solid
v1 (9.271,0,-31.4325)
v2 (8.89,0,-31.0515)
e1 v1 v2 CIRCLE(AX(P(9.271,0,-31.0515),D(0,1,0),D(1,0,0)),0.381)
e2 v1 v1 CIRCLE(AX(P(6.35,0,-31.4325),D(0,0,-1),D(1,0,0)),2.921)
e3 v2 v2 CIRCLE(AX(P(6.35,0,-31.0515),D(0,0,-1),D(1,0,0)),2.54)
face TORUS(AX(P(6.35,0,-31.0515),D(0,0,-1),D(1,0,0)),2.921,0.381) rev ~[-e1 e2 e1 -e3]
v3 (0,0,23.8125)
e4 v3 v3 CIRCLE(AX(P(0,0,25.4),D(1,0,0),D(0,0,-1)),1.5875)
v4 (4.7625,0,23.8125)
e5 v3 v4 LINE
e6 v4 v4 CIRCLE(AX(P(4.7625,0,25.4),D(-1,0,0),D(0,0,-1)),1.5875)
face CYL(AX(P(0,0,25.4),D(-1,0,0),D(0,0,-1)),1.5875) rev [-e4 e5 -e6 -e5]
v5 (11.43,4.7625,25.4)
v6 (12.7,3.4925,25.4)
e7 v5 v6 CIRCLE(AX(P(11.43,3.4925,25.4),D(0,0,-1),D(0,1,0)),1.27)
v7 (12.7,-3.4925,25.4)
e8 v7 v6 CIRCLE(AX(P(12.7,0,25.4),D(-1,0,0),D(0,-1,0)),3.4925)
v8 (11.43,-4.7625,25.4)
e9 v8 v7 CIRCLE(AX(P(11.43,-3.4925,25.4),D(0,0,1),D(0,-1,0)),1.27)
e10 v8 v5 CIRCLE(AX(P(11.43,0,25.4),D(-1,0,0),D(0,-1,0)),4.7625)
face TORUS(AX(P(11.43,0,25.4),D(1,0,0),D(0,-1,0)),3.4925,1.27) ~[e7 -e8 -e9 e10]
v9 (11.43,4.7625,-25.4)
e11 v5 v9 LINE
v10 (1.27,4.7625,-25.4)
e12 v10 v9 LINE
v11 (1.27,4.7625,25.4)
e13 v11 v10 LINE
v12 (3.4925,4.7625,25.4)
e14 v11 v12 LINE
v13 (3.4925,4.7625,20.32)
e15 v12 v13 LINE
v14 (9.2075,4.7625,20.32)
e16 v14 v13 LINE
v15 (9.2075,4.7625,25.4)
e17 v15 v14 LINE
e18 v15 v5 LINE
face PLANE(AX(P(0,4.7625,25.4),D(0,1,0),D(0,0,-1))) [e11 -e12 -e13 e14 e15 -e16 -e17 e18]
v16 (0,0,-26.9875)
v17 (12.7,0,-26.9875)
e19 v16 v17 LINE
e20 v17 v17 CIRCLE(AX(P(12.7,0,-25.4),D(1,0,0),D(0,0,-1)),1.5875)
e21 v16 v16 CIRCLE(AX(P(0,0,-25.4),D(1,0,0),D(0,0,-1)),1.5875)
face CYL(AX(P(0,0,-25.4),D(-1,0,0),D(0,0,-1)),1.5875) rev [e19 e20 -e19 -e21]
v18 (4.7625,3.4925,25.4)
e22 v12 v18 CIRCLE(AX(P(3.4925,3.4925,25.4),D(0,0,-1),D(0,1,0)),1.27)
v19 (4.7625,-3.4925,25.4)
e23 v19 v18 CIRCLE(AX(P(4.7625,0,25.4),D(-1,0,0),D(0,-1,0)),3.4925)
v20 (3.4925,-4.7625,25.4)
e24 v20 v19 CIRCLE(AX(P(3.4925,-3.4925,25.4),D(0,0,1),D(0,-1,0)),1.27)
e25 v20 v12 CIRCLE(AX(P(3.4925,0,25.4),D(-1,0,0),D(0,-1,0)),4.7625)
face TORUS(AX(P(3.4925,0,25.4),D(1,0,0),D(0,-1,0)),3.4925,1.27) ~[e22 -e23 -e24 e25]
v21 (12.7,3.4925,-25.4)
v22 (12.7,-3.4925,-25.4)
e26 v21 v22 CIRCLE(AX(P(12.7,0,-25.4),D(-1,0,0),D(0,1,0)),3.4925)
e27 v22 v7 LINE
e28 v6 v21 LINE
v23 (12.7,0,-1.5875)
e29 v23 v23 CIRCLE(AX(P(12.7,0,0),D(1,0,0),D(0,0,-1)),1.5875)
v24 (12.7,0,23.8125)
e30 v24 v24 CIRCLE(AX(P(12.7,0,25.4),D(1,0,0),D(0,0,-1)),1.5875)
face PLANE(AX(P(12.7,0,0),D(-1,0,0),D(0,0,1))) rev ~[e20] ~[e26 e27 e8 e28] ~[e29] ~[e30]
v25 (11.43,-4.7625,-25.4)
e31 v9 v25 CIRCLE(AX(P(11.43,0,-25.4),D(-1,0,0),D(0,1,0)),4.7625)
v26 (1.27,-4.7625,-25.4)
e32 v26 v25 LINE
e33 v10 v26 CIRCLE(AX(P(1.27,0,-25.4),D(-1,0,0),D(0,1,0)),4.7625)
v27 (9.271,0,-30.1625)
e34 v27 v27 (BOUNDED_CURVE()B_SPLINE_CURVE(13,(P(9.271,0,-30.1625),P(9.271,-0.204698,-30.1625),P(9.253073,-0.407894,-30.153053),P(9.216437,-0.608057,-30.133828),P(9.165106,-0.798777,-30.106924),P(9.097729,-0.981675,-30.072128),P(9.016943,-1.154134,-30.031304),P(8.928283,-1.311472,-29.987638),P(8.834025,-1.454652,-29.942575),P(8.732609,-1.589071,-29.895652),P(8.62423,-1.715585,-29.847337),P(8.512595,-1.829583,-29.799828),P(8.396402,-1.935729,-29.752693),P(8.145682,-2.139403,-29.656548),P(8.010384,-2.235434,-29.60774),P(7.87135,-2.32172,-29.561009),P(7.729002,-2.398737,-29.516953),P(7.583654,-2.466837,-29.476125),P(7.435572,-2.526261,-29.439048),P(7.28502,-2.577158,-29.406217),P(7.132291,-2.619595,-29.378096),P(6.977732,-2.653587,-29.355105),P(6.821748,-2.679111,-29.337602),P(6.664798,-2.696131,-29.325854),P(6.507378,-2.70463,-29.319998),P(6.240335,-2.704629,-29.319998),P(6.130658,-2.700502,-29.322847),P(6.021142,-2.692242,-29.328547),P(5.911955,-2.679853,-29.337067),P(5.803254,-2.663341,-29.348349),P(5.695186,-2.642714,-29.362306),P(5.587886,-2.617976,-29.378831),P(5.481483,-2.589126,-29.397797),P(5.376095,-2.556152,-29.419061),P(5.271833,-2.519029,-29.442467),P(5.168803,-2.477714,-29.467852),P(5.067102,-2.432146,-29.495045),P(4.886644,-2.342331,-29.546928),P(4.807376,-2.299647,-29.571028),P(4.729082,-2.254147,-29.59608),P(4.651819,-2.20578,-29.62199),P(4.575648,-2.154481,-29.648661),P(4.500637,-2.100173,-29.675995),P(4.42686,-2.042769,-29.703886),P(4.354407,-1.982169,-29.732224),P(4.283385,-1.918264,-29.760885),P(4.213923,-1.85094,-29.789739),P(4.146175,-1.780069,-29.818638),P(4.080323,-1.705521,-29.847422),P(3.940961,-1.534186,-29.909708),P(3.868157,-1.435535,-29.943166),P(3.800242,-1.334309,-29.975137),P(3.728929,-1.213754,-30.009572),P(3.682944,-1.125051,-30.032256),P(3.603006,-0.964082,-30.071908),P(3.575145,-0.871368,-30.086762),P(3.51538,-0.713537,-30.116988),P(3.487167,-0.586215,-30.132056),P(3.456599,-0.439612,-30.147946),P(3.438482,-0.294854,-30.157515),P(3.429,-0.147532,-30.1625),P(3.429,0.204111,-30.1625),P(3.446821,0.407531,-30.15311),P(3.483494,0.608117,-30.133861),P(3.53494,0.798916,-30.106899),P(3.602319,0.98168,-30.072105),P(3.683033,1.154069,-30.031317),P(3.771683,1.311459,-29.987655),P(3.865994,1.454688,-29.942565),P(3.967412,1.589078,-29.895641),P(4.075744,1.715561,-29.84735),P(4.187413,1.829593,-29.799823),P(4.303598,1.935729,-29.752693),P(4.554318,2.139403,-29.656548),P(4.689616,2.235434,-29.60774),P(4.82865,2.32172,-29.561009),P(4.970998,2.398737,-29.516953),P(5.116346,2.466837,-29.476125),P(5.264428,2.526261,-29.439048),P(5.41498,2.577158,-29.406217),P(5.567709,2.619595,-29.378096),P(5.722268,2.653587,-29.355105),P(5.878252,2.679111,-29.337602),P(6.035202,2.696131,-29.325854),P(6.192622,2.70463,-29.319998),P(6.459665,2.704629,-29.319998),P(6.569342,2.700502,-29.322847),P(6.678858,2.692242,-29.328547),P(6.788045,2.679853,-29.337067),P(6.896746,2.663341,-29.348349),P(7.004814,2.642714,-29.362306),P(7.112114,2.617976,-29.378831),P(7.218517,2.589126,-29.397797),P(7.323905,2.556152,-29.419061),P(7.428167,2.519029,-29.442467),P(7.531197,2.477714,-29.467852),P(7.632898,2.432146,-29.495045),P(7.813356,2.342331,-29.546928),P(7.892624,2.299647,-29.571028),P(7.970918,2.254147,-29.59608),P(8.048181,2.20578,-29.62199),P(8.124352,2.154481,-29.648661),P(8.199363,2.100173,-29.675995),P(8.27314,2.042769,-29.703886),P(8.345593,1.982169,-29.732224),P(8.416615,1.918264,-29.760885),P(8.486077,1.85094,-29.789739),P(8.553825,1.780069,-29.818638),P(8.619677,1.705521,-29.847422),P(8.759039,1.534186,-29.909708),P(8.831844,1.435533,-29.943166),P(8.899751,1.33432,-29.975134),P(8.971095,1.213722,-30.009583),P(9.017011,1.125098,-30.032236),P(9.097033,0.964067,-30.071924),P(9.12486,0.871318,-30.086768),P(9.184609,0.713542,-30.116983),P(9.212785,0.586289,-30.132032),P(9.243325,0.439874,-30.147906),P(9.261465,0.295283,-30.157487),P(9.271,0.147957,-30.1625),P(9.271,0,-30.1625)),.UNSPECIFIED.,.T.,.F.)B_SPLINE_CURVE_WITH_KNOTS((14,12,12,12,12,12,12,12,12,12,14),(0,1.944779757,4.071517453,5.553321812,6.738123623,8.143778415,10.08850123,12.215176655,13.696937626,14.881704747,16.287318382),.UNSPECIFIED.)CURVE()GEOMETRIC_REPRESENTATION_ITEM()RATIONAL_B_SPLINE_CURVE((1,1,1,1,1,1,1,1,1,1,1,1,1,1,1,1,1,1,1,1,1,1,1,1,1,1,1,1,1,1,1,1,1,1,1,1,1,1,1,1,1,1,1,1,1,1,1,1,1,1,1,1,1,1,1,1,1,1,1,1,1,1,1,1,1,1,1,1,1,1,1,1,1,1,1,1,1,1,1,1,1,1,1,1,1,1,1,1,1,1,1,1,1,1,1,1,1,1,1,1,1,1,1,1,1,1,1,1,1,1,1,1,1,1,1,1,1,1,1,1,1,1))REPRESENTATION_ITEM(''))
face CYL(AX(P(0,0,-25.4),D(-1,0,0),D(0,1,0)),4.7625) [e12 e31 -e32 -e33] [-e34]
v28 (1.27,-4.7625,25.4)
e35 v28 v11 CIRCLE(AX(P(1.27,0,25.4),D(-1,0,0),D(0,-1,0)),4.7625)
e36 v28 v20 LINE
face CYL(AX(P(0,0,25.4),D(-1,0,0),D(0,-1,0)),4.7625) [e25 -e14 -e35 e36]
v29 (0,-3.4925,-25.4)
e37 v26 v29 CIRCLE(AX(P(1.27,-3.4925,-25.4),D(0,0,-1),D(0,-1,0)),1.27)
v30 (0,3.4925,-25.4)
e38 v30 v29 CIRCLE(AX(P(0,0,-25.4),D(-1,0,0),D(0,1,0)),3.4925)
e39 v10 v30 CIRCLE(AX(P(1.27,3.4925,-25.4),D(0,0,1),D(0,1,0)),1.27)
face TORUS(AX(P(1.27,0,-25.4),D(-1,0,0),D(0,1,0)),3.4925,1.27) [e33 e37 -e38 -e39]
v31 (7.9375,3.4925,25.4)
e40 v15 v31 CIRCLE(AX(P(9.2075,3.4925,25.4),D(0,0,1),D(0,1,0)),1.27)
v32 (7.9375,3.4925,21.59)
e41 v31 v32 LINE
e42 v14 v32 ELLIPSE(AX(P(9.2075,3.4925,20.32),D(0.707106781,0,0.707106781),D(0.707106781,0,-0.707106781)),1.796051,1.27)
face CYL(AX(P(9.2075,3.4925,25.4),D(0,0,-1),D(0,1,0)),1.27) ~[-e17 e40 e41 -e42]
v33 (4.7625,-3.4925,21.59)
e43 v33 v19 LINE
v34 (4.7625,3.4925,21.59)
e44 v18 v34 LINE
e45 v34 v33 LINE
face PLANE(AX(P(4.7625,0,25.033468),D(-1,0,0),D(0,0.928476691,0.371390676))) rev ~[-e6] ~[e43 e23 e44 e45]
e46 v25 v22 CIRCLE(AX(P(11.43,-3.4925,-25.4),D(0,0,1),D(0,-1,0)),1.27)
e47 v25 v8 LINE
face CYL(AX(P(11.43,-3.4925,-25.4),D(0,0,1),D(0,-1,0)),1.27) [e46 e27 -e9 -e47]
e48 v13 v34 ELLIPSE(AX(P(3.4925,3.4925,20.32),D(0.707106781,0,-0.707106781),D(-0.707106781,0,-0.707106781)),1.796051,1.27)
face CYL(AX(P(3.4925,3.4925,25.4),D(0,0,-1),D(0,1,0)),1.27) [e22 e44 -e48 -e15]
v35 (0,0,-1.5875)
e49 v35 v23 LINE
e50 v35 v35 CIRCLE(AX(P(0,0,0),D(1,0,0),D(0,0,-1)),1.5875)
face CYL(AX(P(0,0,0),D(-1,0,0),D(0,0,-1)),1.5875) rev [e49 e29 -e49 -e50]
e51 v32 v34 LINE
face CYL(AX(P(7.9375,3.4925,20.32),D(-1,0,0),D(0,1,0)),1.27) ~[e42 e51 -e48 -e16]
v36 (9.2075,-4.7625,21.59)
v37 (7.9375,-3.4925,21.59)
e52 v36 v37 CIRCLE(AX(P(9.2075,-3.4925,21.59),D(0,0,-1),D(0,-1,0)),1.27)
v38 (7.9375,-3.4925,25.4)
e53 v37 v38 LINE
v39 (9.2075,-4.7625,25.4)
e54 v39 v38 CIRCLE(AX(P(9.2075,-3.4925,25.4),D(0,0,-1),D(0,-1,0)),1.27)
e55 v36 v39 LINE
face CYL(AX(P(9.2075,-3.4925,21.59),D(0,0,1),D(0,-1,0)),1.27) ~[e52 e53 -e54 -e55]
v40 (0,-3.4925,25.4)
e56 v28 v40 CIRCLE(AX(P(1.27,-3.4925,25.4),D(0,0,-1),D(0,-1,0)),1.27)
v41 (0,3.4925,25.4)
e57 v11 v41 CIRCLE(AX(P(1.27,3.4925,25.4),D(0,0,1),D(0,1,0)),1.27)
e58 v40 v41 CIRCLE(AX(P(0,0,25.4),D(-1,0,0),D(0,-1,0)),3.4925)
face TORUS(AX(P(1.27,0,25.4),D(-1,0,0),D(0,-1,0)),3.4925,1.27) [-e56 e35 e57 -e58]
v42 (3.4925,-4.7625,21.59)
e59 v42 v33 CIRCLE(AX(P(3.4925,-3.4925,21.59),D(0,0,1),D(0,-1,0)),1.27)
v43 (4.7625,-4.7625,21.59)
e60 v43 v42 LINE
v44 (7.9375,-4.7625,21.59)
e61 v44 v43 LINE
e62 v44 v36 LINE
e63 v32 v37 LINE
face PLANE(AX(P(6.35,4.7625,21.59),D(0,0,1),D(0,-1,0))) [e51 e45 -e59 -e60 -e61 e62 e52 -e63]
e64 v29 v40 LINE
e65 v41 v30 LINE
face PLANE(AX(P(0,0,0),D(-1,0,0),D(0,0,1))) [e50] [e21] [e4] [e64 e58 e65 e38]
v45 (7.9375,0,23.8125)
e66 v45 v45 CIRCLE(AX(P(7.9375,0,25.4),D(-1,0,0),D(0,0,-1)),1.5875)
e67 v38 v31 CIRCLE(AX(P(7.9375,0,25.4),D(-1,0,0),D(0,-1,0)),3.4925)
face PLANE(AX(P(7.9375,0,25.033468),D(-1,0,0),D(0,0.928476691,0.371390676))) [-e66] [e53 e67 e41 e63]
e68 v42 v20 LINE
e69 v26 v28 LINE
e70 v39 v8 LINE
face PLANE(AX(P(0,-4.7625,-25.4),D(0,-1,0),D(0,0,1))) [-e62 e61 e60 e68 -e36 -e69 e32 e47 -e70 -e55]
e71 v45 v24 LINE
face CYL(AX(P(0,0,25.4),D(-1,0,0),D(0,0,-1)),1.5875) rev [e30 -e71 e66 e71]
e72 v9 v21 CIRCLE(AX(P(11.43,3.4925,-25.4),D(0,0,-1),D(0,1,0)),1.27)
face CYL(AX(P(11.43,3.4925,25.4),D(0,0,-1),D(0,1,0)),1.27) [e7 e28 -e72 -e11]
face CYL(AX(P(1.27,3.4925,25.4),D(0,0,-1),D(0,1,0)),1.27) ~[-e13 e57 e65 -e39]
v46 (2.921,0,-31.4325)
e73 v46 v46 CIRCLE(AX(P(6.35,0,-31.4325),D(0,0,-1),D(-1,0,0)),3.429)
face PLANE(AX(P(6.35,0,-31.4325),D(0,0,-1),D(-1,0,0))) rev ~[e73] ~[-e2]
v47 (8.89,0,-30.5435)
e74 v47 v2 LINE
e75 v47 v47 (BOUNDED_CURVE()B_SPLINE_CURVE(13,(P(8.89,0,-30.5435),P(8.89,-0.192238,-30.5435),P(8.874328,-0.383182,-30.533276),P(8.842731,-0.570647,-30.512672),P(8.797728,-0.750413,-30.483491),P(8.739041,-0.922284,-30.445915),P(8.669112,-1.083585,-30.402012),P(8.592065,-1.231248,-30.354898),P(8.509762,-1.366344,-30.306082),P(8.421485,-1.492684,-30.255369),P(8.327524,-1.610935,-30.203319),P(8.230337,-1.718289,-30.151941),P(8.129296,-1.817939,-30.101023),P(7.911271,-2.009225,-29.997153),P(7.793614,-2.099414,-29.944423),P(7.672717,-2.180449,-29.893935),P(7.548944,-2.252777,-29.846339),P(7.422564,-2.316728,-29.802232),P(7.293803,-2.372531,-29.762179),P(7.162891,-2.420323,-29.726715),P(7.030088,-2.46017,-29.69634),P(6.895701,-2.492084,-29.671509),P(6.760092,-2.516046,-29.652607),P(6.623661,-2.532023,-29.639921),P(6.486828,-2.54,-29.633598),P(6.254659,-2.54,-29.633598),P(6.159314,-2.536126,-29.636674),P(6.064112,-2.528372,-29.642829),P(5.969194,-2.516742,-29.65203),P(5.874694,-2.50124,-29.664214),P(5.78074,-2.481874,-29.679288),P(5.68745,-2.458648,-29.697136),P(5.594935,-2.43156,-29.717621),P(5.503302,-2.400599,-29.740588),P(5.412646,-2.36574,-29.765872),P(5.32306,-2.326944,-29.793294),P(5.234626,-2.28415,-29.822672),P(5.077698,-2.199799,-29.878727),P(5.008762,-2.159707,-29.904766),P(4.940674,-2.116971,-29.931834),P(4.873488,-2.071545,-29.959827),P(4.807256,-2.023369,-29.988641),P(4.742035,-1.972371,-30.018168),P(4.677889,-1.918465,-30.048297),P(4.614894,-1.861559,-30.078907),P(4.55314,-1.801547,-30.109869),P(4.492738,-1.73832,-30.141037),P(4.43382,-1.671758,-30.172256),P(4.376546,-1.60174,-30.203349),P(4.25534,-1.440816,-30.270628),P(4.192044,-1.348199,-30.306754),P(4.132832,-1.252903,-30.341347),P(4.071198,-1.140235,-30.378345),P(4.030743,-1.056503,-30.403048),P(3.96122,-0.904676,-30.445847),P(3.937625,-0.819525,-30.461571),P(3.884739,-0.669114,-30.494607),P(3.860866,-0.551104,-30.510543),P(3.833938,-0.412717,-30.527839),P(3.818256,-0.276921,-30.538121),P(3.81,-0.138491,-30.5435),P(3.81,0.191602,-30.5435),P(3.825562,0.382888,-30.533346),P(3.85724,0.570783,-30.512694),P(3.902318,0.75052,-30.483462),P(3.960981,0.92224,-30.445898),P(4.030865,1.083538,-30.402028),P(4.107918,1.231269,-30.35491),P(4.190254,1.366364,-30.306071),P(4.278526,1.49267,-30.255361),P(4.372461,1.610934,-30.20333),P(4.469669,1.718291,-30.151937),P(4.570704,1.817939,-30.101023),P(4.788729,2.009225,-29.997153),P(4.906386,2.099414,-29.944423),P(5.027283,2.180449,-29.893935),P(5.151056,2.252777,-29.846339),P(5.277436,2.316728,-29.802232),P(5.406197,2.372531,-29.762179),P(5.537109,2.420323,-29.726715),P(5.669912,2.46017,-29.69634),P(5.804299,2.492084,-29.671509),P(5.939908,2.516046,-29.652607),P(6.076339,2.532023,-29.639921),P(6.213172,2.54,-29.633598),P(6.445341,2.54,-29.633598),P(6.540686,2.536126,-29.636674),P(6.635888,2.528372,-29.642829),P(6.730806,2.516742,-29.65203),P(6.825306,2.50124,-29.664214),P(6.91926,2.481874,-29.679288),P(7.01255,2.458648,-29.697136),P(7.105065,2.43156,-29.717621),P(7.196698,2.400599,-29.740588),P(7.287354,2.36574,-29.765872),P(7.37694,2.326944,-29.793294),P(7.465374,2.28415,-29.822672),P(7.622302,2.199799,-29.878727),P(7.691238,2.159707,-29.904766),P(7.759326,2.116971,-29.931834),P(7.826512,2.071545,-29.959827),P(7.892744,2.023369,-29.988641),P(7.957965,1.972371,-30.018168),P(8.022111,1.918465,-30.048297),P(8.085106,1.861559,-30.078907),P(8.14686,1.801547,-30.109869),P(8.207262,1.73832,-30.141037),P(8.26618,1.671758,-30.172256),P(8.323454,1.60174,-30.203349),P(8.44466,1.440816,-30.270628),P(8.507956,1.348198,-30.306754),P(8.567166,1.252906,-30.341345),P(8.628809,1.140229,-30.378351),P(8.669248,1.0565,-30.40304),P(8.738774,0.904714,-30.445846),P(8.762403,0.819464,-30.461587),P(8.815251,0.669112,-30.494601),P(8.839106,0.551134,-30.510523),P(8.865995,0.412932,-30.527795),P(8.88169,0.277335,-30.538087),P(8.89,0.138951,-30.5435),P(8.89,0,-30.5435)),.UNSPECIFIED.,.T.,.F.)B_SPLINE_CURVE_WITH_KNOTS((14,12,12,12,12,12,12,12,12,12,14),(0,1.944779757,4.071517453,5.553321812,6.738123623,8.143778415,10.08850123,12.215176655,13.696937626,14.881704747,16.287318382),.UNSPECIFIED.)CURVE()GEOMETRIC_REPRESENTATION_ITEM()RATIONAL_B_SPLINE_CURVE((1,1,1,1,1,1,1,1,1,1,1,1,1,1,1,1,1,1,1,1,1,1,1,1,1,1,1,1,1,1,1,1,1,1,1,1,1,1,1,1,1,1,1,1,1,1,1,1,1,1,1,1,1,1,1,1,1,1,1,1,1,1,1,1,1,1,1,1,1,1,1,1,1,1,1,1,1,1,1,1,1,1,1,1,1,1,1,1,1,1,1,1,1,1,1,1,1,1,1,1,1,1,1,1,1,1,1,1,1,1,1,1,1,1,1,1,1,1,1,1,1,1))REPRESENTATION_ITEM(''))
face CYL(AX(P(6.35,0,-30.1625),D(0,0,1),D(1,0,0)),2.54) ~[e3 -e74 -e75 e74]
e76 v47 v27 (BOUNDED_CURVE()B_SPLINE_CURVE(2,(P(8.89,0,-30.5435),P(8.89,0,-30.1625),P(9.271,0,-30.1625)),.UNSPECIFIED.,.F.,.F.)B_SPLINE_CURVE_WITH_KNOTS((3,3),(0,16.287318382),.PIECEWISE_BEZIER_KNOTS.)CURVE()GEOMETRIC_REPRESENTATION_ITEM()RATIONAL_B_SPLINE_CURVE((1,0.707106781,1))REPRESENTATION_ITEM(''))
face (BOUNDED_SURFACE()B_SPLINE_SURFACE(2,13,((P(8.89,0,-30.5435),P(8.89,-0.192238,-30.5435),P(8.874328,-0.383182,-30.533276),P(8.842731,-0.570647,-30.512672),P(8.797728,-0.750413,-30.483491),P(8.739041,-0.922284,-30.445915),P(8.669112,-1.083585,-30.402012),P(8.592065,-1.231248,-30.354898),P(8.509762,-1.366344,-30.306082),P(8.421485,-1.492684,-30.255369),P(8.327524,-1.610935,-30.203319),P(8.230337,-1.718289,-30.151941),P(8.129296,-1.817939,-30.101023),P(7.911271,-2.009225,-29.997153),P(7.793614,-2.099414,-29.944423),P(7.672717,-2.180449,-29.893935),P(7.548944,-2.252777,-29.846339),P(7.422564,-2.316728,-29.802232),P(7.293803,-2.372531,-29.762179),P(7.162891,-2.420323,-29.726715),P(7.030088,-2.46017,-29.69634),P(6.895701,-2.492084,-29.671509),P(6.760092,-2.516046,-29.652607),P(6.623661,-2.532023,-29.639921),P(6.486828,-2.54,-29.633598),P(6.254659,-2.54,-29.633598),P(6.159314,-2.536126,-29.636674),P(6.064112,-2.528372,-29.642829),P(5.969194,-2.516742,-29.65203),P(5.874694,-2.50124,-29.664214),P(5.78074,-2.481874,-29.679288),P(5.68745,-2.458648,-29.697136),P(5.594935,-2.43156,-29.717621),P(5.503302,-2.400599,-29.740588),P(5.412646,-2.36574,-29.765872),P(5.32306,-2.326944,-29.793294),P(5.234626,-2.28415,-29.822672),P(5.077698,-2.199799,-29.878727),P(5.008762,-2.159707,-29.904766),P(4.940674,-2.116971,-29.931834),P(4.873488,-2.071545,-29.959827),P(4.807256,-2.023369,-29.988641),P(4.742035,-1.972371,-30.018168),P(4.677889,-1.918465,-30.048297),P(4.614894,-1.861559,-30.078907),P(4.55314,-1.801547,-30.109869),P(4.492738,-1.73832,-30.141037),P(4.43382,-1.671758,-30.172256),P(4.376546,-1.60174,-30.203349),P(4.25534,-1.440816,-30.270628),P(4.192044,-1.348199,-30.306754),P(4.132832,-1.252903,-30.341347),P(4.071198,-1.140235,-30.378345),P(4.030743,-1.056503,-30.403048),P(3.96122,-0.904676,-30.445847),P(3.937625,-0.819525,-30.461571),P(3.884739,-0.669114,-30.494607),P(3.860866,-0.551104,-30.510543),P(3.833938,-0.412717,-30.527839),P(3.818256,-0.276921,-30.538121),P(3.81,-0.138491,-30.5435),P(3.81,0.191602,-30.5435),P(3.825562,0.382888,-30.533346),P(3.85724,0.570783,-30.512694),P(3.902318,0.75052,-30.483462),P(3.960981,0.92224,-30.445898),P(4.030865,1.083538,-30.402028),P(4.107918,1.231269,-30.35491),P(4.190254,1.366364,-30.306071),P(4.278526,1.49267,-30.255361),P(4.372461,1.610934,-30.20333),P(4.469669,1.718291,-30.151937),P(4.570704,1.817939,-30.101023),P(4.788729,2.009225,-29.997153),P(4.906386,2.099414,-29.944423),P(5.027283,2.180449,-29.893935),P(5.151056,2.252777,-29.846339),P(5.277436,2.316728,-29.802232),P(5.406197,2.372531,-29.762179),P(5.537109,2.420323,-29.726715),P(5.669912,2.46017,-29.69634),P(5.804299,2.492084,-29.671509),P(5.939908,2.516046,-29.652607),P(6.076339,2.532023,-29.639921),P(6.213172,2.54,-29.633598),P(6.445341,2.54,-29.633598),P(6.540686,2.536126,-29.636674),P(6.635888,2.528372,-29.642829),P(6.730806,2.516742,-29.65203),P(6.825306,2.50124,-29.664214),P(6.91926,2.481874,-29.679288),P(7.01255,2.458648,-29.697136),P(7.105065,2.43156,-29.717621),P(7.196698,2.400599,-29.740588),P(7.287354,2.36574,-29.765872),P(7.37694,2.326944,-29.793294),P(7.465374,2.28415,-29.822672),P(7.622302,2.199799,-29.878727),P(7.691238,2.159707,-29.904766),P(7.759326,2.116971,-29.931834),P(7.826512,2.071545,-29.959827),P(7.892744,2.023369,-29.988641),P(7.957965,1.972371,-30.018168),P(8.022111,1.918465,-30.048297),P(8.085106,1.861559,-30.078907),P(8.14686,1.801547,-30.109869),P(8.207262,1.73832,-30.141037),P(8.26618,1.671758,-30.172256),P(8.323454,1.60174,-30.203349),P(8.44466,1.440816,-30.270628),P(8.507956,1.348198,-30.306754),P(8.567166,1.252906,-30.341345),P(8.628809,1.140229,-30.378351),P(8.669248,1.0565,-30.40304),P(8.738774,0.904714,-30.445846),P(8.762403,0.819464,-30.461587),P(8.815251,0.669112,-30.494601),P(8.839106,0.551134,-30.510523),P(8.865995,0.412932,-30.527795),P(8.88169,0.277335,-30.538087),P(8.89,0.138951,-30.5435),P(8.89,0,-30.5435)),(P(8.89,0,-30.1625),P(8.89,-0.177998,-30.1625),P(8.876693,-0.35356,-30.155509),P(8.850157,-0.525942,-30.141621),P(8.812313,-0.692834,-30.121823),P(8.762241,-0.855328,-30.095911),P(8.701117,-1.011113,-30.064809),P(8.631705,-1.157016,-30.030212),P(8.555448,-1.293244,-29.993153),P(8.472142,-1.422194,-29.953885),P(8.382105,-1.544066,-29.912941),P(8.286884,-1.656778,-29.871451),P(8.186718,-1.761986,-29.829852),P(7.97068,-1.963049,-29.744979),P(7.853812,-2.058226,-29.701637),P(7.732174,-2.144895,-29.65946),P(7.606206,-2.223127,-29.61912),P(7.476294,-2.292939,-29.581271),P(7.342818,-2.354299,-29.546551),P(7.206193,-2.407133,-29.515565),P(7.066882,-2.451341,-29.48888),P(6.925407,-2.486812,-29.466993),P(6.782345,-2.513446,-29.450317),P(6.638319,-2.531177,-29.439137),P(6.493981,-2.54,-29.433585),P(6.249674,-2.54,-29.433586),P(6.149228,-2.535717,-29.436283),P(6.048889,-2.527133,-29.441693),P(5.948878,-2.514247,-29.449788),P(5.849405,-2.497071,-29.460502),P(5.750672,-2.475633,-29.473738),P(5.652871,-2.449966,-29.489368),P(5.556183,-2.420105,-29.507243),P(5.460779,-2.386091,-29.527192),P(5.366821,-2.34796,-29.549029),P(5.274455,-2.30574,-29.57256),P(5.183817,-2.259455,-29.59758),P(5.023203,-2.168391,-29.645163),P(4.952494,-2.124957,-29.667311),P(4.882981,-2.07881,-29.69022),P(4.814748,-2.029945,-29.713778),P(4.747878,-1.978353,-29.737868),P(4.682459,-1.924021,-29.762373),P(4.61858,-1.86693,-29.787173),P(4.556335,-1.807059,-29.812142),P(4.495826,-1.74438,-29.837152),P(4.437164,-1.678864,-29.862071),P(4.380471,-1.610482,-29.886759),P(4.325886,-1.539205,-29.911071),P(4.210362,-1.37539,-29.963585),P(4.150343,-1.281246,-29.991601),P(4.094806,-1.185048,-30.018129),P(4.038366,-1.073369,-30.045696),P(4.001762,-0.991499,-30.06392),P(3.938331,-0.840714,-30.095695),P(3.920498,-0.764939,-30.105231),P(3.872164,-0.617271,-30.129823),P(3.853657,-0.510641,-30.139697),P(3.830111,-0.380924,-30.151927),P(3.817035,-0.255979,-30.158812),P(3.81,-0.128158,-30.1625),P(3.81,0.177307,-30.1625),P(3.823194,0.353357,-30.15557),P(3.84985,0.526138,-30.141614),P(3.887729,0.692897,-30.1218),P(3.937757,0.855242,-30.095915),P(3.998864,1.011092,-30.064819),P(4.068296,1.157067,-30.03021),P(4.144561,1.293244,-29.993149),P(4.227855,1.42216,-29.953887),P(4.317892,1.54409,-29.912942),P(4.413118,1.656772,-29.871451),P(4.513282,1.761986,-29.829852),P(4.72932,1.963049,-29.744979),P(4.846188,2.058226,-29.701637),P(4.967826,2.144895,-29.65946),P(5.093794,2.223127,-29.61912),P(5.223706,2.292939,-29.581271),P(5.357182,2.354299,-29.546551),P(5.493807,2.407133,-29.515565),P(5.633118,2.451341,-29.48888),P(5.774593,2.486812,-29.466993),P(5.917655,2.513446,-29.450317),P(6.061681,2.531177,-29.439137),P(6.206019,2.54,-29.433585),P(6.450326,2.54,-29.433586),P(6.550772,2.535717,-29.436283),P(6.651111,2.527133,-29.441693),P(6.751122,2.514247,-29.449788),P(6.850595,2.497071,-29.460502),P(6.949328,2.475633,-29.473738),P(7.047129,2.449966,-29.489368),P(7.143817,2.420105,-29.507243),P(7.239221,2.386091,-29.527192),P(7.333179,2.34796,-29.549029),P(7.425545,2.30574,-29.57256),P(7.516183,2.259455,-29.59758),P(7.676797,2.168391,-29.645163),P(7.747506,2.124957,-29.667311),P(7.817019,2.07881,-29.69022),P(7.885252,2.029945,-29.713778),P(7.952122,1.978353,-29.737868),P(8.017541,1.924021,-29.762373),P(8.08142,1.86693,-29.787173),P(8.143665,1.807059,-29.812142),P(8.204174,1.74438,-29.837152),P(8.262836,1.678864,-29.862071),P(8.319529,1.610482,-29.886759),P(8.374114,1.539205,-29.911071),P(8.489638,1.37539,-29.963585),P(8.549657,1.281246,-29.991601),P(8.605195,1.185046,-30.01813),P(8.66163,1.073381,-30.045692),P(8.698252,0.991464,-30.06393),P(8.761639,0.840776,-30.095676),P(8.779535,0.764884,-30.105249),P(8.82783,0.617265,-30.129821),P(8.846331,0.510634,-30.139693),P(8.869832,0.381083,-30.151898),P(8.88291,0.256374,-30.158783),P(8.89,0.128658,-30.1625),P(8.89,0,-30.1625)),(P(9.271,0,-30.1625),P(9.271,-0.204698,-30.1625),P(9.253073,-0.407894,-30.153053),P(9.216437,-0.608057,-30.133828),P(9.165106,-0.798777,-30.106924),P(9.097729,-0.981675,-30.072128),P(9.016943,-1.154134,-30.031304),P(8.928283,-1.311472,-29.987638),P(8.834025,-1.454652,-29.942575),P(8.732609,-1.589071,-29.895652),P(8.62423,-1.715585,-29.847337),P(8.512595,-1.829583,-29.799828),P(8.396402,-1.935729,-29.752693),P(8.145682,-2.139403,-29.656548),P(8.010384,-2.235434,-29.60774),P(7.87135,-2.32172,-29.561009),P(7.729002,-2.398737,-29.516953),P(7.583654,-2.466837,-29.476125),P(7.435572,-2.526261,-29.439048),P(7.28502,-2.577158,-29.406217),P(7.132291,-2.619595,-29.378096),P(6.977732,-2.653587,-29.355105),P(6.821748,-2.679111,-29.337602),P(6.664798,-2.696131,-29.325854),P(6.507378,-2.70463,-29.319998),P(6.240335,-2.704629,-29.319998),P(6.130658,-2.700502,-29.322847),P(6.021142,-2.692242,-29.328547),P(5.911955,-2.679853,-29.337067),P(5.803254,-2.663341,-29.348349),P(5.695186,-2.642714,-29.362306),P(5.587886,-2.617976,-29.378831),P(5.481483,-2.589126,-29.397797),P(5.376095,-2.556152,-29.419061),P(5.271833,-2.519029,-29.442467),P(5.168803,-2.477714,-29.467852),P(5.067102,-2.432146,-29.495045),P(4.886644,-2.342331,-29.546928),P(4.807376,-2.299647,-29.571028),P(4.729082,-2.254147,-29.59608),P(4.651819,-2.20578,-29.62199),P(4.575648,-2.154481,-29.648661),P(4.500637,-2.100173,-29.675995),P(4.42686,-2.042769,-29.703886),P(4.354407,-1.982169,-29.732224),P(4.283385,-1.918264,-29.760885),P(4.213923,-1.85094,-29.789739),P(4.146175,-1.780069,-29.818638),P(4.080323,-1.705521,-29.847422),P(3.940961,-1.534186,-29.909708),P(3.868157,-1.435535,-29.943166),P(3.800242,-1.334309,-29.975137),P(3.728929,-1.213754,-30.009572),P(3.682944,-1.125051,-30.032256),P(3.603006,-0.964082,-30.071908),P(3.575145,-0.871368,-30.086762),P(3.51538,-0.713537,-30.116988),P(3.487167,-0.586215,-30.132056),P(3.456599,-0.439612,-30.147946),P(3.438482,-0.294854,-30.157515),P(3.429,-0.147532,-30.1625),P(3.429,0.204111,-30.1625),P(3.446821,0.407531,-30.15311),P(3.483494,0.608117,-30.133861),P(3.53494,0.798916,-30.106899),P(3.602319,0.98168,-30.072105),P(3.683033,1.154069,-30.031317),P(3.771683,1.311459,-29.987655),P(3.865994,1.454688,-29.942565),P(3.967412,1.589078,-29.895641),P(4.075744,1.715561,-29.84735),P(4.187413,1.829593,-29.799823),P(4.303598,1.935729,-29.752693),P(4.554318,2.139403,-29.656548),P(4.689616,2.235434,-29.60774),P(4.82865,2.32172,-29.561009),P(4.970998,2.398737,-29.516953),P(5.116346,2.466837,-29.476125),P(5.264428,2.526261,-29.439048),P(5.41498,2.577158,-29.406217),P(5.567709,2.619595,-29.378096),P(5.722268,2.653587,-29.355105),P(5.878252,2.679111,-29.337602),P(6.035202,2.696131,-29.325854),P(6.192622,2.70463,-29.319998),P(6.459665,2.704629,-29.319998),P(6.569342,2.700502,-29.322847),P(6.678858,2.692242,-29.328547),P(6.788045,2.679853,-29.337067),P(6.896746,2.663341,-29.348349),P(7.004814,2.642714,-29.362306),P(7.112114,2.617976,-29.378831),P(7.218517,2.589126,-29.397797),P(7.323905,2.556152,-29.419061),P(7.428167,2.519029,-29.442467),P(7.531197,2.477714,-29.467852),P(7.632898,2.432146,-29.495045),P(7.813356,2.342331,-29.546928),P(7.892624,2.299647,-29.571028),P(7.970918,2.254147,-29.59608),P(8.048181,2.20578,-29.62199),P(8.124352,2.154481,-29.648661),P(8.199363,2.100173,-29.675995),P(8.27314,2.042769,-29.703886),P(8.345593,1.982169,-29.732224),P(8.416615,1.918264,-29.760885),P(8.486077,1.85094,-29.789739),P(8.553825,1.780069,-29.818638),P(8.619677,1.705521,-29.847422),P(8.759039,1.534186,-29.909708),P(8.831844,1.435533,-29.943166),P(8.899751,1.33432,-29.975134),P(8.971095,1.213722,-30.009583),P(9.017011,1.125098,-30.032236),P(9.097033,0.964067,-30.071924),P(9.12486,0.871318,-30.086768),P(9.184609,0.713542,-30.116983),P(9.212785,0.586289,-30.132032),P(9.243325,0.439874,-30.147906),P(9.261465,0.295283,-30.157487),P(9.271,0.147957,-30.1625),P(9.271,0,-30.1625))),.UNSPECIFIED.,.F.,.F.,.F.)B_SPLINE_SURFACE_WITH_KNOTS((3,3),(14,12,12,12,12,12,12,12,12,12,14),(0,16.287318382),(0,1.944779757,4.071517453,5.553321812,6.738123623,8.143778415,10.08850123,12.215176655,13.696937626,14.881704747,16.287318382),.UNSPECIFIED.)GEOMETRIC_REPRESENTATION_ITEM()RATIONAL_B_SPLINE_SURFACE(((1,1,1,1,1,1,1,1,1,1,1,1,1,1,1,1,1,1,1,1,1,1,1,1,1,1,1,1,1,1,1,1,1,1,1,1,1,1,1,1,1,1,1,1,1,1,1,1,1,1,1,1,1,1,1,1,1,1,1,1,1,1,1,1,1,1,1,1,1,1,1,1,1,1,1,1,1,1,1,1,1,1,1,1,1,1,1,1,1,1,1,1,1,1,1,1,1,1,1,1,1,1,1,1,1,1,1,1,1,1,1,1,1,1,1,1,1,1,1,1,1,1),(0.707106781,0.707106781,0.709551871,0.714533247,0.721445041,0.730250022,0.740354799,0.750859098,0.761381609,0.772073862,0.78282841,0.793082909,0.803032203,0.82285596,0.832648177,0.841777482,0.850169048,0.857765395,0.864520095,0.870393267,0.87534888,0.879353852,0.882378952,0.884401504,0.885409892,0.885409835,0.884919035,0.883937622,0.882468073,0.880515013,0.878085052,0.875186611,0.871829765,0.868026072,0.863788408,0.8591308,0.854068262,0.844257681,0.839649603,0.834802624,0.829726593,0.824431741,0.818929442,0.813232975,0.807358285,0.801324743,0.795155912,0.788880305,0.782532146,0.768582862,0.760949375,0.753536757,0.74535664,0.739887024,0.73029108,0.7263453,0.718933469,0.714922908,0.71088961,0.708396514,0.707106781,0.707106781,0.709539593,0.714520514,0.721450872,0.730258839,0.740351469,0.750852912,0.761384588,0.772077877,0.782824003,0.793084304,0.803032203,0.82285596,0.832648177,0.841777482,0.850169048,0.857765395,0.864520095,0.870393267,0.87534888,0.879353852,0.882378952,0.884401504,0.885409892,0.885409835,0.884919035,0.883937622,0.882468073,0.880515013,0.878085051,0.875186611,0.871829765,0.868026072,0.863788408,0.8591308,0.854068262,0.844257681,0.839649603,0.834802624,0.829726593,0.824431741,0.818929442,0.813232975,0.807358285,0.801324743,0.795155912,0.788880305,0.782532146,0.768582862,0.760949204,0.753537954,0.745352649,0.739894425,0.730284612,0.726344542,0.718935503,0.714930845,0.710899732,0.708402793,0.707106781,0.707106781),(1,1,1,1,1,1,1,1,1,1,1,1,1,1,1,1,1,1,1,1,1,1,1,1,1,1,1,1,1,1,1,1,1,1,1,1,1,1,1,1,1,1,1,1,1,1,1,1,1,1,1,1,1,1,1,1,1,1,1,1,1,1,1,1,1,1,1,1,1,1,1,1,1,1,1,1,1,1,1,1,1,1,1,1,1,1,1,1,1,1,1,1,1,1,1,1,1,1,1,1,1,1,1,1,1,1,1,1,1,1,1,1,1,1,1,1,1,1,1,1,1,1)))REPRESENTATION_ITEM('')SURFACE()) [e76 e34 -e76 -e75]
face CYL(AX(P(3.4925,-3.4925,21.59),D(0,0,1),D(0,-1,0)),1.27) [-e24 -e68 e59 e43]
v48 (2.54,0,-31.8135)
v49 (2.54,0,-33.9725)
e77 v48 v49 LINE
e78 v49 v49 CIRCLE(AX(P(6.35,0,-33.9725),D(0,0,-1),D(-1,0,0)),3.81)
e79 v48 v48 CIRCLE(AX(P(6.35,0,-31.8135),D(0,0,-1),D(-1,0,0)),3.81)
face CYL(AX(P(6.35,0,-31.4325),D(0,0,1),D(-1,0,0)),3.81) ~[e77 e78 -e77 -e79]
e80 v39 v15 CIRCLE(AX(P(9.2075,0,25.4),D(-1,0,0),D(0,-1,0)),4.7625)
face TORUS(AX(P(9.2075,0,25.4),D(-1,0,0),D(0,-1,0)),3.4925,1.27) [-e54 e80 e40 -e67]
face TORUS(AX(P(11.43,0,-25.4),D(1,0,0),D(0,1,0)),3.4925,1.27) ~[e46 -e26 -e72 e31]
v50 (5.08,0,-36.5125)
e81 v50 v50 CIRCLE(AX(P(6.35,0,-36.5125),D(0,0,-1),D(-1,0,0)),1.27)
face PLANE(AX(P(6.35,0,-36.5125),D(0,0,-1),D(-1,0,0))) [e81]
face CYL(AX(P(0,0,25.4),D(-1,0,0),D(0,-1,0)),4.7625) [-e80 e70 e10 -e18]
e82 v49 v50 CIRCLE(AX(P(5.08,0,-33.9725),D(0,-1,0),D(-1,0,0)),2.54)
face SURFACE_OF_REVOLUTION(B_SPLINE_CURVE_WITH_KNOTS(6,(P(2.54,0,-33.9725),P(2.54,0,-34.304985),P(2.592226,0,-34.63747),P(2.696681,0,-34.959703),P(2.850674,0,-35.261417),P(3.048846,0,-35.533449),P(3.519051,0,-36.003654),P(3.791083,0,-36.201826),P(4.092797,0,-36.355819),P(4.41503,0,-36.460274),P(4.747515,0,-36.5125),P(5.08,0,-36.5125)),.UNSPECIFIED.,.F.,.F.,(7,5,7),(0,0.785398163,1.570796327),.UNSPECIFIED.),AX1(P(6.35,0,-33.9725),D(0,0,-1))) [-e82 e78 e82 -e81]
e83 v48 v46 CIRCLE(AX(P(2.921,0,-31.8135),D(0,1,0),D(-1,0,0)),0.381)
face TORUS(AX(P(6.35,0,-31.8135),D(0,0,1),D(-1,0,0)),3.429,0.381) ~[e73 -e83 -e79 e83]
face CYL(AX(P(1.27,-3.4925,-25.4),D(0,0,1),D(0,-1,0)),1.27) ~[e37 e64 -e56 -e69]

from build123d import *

# Parameters (mm, degrees)
SKETCH1_R                       = 1.5875
BOSS_EXTRUDE1_DEPTH             = 12.7
CUT_EXTRUDE1_DEPTH              = 1.5875
FILLET1_R                       = 1.27
BOSS_EXTRUDE2_REACH             = 63.831
BOSS_EXTRUDE2_END_RADIUS        = 4.7625
SKETCH2_R                       = 2.54
BOSS_EXTRUDE2_DIRECTION_2_DEPTH = 1.27
SKETCH6_R                       = 3.81
BOSS_EXTRUDE3_DEPTH             = 5.08
FILLET2_R                       = 2.54
FILLET3_R                       = 0.381


with BuildPart() as part:
    # Sketch1 → Boss-Extrude1 (new body)
    with BuildSketch(Plane(origin=(0, 0, 0), x_dir=(0, 0, -1), z_dir=(1, 0, 0))):
        with BuildLine():
            Line((-25.4, 4.7625), (25.4, 4.7625))
            ThreePointArc((25.4, 4.7625), (30.1625, 0), (25.4, -4.7625))
            Line((25.4, -4.7625), (-25.4, -4.7625))
            ThreePointArc((-25.4, -4.7625), (-30.1625, 0), (-25.4, 4.7625))
        make_face()
        Circle(SKETCH1_R, mode=Mode.SUBTRACT)
        with Locations((25.4, 0)):
            Circle(SKETCH1_R, mode=Mode.SUBTRACT)
        with Locations((-25.4, 0)):
            Circle(SKETCH1_R, mode=Mode.SUBTRACT)
    extrude(amount=BOSS_EXTRUDE1_DEPTH)

    # 3DSketch1 → Cut-Extrude1 (cut, symmetric)
    with BuildSketch(Plane(origin=(6.35, 4.7625, 25.4), x_dir=(0, -0.9284766908852594, -0.3713906763541036), z_dir=(1, 0, 0))):
        with BuildLine():
            Line((0, 0), (1.414998477, 3.537496192))
            Line((1.414998477, 3.537496192), (10.258738958, 0))
            Line((10.258738958, 0), (8.843740481, -3.537496192))
            ThreePointArc((8.843740481, -3.537496192), (2.653122144, -6.190618336), (0, 0))
        make_face()
    extrude(amount=CUT_EXTRUDE1_DEPTH, both=True, mode=Mode.SUBTRACT)

    # Fillet1
    fillet1_edges = [part.edges().sort_by_distance(p)[0] for p in [
        (12.7, 0, -30.1625),
        (12.7, 4.7625, 0),
        (7.9375, 4.7625, 23.495),
        (7.9375, -4.7625, 23.495),
        (4.7625, 4.7625, 23.495),
        (6.35, 4.7625, 21.59),
        (4.7625, -4.7625, 23.495),
        (12.7, 0, 30.1625),
        (0, 4.7625, 0),
        (0, 0, -30.1625),
        (0, -4.7625, 0),
        (0, 0, 30.1625),
        (12.7, -4.7625, 0),
    ]]
    fillet(fillet1_edges, radius=FILLET1_R)

    # Boss-Extrude2: up to this cylinder (the profile starts outside it)
    boss_extrude2_end = Plane(origin=(6.35, 0, -25.4), z_dir=(-1, 0, 0)) * Cylinder(BOSS_EXTRUDE2_END_RADIUS, 138.187, mode=Mode.PRIVATE)
    # Sketch2 → Boss-Extrude2 (add, up to the surface)
    with BuildSketch(Plane(origin=(0, 0, -30.1625), x_dir=(-1, 0, 0), z_dir=(0, 0, -1)), mode=Mode.PRIVATE) as boss_extrude2_sk1:
        with Locations(Location((-6.35, 0, 0), (0, 0, 180))):
            Circle(SKETCH2_R)
    boss_extrude2_tool1 = extrude(boss_extrude2_sk1.sketch, amount=-BOSS_EXTRUDE2_REACH, mode=Mode.PRIVATE) - boss_extrude2_end
    add(boss_extrude2_tool1.solids().sort_by_distance((6.35, 0, -30.1625))[0])
    add(boss_extrude2_tool1.solids().sort_by_distance((6.35, 0, -30.1625))[1])

    # Sketch2 → Boss-Extrude2 direction 2 (add)
    with BuildSketch(Plane(origin=(0, 0, -30.1625), x_dir=(-1, 0, 0), z_dir=(0, 0, -1))):
        with Locations(Location((-6.35, 0, 0), (0, 0, 180))):
            Circle(SKETCH2_R)
    extrude(amount=BOSS_EXTRUDE2_DIRECTION_2_DEPTH)

    # Sketch6 → Boss-Extrude3 (add)
    with BuildSketch(Plane(origin=(0, 0, -31.4325), x_dir=(-1, 0, 0), z_dir=(0, 0, -1))):
        with Locations((-6.35, 0)):
            Circle(SKETCH6_R)
    extrude(amount=BOSS_EXTRUDE3_DEPTH)

    # Fillet2
    fillet2_edges = [part.edges().sort_by_distance(p)[0] for p in [
        (10.16, 0, -36.5125),
    ]]
    fillet(fillet2_edges, radius=FILLET2_R)

    # Fillet3
    fillet3_edges = [part.edges().sort_by_distance(p)[0] for p in [
        (3.81, 0, -30.1625),
        (3.81, 0, -31.4325),
        (10.16, 0, -31.4325),
    ]]
    fillet(fillet3_edges, radius=FILLET3_R)


solid = part.part
